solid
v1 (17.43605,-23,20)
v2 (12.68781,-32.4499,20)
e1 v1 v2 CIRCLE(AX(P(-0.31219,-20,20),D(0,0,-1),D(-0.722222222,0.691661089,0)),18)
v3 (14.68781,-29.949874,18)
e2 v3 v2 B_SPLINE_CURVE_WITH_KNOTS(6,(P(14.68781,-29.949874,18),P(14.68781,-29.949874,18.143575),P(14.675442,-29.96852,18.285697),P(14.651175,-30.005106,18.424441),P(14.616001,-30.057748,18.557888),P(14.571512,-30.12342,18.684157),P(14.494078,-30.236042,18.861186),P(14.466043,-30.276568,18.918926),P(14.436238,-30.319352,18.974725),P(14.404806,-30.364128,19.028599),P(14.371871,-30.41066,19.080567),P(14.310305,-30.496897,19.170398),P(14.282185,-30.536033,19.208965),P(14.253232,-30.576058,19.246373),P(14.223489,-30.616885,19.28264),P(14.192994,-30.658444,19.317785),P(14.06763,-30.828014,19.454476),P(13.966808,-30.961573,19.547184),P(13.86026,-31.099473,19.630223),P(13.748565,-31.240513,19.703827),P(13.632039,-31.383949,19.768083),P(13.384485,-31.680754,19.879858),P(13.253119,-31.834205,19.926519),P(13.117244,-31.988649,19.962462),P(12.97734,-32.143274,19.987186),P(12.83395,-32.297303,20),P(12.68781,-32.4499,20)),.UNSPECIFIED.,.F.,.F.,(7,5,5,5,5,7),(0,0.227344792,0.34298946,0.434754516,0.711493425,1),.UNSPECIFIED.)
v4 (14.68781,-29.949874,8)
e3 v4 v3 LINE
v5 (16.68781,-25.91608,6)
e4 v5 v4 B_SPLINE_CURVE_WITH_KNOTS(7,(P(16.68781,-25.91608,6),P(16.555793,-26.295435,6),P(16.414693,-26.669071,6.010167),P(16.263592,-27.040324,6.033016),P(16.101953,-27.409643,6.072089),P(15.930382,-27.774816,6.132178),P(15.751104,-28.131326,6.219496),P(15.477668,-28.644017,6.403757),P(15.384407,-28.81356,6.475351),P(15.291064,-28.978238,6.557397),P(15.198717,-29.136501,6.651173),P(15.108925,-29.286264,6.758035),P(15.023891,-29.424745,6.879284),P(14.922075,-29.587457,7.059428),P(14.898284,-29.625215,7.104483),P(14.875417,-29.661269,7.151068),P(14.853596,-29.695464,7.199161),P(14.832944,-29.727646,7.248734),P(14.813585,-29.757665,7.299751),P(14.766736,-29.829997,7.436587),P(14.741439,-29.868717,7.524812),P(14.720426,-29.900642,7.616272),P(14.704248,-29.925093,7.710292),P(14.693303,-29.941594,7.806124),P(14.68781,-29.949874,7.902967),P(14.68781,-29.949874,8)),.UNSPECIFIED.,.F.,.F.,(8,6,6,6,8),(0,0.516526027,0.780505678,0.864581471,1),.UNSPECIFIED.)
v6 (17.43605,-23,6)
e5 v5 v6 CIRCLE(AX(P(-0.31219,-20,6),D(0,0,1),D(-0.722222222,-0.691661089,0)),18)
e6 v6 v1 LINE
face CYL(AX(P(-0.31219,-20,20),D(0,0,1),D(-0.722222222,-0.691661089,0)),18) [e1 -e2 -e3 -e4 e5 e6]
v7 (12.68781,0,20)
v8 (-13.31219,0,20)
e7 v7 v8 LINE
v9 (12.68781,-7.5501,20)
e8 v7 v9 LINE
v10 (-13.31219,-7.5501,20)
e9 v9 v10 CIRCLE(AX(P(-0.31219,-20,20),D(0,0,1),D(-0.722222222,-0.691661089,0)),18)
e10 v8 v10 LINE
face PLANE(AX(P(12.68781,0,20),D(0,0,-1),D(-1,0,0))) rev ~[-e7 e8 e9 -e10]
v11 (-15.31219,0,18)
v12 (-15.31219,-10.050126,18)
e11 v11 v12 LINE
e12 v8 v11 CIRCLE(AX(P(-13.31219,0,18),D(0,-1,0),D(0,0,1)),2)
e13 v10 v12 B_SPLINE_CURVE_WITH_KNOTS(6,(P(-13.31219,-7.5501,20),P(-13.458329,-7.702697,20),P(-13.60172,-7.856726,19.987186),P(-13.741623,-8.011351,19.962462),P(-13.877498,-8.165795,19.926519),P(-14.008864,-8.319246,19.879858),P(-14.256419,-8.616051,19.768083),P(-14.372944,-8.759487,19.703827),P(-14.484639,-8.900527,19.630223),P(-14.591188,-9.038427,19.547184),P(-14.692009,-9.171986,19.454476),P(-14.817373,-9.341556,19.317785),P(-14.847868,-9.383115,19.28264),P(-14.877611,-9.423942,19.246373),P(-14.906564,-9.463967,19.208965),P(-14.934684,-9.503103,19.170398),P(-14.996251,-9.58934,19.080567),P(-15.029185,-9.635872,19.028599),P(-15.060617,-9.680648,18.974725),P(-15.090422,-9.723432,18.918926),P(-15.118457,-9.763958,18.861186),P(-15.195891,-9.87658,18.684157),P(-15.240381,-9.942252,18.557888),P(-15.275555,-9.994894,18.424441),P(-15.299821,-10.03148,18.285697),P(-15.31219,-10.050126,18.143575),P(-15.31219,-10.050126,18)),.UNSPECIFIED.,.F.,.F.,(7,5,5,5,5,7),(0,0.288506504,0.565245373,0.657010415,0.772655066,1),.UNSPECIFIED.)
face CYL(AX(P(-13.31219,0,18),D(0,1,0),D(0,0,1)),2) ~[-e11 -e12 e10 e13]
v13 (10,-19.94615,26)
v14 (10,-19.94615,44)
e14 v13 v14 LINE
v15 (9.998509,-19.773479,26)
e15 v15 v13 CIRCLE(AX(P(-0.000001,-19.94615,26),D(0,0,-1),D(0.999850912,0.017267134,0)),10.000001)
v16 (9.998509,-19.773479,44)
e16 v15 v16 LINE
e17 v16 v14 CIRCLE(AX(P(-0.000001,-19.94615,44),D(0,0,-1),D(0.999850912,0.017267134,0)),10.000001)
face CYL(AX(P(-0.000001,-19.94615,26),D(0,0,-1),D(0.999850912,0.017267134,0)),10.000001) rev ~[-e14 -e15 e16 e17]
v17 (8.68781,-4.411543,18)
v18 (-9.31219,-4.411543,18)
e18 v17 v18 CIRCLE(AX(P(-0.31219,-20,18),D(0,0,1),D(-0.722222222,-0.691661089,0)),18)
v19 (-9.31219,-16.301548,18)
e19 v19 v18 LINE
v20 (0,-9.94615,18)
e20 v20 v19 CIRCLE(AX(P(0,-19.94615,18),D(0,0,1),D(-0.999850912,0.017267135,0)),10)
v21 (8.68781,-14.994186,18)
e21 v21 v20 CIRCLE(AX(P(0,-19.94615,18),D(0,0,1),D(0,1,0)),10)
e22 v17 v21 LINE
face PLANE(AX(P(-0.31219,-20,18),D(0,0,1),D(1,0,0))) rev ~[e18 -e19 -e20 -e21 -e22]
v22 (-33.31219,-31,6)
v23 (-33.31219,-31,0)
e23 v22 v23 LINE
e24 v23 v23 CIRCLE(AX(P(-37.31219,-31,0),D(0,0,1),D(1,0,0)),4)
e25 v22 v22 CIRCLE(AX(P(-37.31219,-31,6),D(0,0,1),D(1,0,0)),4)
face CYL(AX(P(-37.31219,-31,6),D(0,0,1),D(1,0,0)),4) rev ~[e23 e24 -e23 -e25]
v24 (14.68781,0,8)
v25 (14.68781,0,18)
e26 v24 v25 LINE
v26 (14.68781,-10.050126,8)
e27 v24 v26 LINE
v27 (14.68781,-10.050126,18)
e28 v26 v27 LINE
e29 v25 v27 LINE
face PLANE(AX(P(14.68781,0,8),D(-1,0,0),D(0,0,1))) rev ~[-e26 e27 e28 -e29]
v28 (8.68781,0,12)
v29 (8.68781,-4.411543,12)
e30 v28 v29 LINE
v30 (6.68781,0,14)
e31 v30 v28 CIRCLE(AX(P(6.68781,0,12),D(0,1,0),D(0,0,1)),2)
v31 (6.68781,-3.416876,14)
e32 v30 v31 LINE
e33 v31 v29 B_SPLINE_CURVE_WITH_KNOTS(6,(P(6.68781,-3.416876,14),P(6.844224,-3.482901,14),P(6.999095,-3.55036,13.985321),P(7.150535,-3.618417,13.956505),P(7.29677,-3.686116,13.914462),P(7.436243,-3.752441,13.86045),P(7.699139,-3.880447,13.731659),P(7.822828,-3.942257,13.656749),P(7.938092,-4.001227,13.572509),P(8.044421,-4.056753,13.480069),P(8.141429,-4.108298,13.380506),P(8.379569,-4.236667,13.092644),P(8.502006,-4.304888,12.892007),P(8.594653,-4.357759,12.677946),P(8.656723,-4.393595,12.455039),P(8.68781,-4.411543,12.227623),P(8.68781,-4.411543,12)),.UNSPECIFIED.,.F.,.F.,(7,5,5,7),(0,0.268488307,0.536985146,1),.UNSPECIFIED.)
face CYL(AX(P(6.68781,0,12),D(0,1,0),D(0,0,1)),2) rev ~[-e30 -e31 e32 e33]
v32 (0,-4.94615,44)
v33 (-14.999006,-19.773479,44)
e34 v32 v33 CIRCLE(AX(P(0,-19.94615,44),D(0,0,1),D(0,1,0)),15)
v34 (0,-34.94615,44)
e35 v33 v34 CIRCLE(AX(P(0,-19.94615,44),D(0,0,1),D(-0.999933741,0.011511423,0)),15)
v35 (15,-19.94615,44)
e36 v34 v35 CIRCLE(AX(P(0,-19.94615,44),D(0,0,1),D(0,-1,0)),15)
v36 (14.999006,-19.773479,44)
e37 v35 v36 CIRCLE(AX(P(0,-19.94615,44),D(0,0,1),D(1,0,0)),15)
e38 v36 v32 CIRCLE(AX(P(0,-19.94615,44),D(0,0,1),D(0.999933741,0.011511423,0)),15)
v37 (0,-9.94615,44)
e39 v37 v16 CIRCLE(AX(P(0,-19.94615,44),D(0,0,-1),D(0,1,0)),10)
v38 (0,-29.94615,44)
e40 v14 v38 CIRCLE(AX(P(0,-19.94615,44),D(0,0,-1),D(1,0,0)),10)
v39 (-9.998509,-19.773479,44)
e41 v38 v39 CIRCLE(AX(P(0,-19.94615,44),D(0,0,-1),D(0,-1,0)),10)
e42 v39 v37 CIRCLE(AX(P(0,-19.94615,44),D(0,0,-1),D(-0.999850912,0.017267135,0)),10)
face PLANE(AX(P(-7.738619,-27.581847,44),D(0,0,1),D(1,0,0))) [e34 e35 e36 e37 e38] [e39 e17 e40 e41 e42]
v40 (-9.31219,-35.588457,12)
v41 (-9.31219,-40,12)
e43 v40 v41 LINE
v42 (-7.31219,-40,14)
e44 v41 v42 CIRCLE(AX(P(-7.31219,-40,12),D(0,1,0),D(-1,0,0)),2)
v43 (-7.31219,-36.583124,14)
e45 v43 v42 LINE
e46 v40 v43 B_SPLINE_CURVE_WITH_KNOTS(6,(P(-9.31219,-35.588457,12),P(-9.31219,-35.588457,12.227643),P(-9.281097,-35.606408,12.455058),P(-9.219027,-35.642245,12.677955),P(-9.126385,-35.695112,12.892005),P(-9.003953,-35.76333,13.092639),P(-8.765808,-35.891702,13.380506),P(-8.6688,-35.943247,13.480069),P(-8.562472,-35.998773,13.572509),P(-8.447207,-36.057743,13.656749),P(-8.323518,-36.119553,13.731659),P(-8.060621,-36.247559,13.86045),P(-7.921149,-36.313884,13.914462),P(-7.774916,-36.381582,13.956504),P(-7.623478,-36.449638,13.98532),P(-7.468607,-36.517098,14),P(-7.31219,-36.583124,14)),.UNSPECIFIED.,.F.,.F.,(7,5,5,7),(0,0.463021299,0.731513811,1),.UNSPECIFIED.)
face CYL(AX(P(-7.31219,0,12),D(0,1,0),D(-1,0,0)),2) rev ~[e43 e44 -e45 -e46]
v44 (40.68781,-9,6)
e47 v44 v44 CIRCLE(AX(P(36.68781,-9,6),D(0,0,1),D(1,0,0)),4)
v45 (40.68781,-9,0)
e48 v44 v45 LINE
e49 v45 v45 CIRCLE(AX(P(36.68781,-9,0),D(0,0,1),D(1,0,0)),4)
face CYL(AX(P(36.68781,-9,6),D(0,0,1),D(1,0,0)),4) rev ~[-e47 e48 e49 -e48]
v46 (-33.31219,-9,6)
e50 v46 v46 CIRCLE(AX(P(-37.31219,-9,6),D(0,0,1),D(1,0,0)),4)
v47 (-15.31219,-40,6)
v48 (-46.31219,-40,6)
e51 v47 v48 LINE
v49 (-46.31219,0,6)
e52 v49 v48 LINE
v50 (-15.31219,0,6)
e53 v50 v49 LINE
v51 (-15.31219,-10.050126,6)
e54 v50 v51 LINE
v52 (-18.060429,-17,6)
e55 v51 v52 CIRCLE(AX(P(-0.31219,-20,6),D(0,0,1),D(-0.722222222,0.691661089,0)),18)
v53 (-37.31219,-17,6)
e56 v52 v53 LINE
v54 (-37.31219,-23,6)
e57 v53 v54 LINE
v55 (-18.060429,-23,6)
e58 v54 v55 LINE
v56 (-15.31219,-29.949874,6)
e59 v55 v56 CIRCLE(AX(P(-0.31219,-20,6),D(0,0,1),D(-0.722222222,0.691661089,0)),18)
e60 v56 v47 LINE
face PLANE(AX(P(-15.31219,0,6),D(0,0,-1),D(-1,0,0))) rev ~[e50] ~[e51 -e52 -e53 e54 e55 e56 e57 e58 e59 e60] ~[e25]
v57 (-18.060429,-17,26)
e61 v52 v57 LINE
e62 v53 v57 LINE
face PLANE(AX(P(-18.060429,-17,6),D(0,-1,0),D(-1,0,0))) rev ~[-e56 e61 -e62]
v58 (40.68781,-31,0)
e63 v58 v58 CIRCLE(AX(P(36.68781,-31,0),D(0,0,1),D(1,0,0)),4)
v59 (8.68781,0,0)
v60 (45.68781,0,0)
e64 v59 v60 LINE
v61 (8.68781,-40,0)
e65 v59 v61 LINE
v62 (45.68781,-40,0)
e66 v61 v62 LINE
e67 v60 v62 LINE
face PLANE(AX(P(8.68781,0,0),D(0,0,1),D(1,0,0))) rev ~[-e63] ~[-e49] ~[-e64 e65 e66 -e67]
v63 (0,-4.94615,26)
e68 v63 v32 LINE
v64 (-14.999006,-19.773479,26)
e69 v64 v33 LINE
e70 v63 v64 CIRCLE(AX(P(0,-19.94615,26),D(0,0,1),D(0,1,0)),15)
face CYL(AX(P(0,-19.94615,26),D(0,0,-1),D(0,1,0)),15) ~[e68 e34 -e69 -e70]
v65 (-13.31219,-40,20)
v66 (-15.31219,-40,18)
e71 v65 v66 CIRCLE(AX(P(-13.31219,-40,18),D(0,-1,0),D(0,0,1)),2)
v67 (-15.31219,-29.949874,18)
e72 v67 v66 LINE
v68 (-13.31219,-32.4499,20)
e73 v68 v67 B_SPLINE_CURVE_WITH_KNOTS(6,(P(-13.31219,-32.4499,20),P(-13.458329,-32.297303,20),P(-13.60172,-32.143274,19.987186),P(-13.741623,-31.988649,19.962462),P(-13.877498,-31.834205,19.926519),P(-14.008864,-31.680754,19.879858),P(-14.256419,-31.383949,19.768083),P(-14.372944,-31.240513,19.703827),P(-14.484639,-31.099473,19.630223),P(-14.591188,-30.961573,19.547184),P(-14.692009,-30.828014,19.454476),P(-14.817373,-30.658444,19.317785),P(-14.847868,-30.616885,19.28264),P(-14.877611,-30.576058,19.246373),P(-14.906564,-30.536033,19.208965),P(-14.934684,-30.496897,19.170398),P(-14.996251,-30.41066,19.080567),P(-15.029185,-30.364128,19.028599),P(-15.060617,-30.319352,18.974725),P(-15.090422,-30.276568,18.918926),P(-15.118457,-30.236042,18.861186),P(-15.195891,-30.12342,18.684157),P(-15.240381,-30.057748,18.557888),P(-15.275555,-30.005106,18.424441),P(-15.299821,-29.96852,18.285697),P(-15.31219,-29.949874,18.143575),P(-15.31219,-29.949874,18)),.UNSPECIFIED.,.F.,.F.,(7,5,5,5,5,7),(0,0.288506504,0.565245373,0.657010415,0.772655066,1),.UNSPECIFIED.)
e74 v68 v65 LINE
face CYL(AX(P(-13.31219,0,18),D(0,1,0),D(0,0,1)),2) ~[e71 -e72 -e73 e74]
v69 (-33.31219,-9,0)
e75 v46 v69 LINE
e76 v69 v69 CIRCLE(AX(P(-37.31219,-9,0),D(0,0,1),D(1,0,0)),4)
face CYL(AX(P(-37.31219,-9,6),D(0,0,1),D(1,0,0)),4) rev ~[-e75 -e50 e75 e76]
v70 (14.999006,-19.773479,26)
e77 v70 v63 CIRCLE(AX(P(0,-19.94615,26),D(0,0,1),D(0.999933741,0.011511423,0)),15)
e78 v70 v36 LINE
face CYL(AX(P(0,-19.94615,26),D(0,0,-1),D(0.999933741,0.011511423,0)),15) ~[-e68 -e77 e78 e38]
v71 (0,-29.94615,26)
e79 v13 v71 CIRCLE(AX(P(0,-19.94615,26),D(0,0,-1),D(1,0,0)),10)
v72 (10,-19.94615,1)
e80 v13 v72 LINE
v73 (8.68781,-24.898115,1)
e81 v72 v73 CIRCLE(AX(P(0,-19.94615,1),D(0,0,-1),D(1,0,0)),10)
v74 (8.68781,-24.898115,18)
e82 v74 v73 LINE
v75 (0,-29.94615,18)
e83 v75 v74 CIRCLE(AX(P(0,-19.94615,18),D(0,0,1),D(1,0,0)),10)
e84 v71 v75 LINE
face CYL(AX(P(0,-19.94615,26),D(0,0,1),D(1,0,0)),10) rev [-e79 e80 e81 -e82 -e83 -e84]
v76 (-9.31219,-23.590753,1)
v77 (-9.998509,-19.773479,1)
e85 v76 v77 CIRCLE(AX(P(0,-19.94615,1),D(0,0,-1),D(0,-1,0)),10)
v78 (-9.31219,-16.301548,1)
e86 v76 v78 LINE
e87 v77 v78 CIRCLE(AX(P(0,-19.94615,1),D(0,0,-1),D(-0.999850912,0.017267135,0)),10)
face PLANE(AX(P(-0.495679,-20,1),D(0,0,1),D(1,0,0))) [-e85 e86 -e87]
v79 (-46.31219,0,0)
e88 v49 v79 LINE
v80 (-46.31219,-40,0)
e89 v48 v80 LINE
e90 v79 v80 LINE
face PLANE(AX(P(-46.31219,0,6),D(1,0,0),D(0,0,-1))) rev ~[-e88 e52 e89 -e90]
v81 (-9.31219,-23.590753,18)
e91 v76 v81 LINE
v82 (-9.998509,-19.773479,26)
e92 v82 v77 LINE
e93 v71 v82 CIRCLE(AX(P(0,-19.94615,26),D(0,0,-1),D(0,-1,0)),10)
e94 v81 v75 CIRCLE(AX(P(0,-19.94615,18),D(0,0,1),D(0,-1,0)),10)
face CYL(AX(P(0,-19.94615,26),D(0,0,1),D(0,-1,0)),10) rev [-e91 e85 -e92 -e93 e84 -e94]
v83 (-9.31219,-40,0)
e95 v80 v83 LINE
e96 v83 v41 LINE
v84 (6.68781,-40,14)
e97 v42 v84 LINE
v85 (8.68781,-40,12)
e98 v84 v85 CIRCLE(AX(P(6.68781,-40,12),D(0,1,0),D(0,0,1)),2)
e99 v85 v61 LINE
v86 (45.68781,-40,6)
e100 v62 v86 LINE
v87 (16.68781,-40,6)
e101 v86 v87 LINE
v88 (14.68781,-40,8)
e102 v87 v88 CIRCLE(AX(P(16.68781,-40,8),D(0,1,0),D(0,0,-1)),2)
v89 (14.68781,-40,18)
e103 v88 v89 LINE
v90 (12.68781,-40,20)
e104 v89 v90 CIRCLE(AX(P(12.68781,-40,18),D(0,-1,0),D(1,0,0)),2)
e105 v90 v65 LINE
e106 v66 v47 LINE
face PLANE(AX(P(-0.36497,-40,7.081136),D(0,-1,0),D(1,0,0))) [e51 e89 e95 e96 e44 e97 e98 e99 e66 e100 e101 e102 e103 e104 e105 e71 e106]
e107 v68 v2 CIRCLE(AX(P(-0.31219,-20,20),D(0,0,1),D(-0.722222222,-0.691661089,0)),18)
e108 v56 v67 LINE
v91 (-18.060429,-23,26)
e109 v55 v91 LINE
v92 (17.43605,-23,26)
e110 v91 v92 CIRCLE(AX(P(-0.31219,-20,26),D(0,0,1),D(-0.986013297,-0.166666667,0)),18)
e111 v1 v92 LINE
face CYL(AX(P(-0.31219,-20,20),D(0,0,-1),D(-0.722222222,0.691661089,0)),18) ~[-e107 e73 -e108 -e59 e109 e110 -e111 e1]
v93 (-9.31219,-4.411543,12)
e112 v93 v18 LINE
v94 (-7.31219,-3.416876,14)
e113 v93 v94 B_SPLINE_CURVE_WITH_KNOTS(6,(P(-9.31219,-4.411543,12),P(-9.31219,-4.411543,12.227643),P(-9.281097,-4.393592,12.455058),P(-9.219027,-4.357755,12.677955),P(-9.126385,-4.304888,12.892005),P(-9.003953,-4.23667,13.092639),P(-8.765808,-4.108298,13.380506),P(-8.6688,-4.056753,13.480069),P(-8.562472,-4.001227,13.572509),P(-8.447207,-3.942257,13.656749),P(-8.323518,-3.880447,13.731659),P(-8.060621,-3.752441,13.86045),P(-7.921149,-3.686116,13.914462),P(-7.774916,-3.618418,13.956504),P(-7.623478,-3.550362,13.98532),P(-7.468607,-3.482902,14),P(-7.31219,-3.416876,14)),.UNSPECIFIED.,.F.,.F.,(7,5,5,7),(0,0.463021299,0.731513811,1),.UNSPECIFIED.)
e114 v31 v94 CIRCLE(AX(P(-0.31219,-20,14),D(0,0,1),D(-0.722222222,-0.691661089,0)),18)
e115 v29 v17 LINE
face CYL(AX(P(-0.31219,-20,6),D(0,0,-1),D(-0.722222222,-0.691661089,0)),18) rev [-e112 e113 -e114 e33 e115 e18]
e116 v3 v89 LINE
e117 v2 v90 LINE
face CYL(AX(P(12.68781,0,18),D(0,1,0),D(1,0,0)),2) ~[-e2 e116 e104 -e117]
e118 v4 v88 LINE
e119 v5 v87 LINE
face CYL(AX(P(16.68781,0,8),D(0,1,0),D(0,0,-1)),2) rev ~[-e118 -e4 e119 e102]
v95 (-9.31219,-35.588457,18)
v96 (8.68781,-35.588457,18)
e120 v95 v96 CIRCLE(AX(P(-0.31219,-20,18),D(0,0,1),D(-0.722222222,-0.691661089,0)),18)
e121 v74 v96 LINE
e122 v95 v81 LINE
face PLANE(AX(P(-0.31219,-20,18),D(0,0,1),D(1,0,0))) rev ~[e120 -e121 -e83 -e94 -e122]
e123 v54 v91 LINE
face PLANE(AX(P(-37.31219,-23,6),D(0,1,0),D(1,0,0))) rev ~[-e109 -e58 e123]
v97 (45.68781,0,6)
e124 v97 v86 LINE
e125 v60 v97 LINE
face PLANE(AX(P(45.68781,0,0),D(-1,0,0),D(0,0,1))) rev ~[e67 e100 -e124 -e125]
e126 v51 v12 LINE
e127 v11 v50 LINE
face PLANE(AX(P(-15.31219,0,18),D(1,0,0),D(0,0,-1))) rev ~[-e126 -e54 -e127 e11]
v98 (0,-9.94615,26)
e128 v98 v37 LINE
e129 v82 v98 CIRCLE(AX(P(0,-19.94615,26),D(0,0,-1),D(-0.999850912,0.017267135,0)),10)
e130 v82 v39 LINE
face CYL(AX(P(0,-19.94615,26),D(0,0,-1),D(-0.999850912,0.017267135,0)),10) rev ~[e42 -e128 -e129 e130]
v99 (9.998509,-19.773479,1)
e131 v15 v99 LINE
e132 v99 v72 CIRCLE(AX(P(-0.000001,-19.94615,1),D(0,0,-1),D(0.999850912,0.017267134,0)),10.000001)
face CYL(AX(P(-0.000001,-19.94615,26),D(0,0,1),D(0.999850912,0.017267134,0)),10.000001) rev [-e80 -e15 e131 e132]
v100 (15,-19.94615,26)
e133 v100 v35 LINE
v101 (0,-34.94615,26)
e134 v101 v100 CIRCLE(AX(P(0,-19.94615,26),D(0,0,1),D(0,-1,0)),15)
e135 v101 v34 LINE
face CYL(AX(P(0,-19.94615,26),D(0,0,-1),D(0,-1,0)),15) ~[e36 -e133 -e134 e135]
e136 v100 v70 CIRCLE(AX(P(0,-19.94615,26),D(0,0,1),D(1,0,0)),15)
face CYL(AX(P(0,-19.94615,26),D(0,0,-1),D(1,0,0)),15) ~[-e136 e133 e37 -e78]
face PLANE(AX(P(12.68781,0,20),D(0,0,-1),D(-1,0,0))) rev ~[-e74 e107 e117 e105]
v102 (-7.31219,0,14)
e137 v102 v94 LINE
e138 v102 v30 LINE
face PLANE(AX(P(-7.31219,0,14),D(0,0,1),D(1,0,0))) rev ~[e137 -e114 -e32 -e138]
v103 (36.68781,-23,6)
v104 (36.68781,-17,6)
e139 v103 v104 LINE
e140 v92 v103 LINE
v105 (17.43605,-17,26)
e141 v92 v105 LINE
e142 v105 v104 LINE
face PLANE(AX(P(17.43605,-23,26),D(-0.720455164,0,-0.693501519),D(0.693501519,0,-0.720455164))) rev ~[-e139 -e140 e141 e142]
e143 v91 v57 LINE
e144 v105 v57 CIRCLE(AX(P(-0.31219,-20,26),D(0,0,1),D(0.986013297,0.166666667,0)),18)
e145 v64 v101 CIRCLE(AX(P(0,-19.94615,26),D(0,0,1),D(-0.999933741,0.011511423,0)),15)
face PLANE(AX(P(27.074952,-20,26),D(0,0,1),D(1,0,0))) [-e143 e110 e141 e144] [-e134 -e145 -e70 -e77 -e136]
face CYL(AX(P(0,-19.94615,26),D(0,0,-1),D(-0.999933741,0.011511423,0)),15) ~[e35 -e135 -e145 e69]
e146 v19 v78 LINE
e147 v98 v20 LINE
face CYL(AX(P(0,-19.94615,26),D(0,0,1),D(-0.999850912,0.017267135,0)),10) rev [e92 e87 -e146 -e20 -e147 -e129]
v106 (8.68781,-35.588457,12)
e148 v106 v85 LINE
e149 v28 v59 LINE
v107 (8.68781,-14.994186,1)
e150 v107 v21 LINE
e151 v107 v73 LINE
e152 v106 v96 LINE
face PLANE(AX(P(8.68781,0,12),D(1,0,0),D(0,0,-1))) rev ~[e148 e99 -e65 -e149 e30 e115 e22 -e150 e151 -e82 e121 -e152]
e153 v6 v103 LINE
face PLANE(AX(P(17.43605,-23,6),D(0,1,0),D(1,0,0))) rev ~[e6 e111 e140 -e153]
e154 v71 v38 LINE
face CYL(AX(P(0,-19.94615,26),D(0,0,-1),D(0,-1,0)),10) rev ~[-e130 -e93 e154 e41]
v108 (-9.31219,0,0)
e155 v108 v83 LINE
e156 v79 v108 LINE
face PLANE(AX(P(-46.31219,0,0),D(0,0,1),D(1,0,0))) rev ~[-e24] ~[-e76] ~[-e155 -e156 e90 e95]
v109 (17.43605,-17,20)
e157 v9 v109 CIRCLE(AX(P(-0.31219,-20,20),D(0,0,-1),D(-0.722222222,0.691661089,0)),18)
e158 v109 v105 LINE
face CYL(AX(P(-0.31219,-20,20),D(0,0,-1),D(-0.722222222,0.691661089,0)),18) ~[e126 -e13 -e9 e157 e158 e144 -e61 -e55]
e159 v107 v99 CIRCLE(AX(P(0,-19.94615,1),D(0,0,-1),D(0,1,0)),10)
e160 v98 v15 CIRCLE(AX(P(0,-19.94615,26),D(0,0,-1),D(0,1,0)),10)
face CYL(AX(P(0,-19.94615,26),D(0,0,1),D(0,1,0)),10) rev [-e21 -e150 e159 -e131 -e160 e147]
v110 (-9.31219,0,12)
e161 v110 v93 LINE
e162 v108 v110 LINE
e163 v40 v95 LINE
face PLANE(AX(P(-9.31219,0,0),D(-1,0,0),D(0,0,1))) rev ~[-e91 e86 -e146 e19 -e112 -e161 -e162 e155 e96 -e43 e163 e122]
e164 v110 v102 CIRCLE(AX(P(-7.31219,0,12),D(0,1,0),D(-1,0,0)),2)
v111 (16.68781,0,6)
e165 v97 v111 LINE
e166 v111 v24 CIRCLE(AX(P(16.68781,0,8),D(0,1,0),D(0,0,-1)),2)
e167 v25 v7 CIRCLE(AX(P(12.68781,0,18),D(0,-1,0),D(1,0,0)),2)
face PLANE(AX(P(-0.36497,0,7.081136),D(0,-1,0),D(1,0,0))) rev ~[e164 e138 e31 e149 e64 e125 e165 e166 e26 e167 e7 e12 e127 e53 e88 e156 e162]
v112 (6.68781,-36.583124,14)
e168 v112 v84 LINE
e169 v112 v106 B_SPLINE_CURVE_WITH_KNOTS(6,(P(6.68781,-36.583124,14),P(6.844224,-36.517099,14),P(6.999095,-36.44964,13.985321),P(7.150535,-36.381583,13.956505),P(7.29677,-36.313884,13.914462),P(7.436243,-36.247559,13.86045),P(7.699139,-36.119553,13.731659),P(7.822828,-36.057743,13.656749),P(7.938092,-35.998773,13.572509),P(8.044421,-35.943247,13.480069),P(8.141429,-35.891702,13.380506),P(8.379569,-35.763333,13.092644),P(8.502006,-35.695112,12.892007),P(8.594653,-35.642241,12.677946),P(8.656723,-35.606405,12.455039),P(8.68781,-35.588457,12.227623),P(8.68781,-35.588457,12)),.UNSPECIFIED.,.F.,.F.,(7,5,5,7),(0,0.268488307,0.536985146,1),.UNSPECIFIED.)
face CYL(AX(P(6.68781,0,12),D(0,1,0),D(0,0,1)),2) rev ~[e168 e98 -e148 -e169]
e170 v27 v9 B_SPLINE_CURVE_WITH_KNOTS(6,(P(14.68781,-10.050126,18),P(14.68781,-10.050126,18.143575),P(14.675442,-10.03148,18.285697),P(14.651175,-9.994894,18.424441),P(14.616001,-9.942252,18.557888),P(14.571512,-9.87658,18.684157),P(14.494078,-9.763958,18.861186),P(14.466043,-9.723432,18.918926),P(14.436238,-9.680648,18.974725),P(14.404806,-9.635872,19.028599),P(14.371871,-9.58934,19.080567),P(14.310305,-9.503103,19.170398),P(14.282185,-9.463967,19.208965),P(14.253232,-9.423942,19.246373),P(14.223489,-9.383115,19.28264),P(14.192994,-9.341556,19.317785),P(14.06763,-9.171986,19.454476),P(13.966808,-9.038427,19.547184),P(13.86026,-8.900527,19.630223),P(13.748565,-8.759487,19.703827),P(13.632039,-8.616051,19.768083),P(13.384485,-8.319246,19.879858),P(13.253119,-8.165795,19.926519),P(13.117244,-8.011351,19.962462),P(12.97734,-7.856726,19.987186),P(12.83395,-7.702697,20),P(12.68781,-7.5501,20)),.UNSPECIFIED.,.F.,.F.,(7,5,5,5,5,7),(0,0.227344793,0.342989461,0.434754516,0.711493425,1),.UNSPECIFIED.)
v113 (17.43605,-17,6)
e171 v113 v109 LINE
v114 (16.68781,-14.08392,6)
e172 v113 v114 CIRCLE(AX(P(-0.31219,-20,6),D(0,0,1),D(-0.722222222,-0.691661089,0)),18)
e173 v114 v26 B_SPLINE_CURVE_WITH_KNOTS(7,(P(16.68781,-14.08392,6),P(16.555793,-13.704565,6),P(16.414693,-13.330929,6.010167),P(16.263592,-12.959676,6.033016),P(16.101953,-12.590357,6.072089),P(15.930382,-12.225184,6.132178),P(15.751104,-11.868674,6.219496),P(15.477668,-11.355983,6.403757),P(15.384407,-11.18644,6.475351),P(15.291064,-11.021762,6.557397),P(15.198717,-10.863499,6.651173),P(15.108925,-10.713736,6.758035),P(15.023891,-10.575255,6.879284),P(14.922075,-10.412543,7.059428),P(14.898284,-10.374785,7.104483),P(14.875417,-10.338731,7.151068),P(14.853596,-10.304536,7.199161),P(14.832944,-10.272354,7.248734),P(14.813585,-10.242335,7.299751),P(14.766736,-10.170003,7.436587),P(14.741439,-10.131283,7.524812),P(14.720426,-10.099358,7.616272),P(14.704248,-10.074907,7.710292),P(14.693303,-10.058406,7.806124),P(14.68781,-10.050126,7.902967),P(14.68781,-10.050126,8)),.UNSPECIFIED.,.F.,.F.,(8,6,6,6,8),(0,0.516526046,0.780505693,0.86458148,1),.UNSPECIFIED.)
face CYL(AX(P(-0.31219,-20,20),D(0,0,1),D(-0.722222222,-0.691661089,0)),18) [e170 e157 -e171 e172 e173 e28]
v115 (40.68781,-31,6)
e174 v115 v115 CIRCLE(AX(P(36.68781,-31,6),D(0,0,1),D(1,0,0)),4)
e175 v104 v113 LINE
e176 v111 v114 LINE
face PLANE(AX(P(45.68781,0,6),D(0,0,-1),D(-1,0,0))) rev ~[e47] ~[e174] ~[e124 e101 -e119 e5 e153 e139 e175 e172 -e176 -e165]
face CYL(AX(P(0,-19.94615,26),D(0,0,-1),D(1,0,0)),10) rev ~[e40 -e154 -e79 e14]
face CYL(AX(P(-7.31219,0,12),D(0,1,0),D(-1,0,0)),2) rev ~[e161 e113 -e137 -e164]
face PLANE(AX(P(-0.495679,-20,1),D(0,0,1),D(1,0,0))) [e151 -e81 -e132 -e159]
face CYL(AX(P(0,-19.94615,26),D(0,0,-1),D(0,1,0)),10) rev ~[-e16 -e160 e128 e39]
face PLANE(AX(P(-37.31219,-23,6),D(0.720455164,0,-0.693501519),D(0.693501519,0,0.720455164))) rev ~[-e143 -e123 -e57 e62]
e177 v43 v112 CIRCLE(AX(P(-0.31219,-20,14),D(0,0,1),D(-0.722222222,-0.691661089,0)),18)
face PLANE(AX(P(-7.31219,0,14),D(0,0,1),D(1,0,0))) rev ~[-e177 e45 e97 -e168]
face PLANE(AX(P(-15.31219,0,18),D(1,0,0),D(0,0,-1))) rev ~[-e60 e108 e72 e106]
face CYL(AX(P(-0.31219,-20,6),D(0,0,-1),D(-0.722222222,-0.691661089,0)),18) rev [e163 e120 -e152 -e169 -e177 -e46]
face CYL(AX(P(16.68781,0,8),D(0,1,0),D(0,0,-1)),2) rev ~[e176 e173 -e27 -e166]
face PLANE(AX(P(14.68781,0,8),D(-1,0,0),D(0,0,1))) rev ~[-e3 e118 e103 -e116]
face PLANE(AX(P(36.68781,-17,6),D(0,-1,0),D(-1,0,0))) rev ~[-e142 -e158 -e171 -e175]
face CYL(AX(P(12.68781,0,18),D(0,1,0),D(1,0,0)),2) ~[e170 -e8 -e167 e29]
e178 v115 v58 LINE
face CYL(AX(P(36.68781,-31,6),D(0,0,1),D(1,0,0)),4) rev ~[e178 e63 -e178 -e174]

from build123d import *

# Parameters (mm, degrees)
F1_DEPTH  = 40
F14_R     = 4
F2_DEPTH  = 6
F3_R      = 4
F15_DEPTH = 6
F16_DEPTH = 14
F6_DEPTH  = 6
F17_DEPTH = 18
F18_DEPTH = 25
F8_DEPTH  = 20
F9_DEPTH  = 20
F10_DEPTH = 6
F12_DEPTH = 6
F13_DEPTH = 12


with BuildPart() as f1:
    # F0 (on Front) → F1 (new body)
    with BuildSketch(Plane.XZ):
        with BuildLine():
            Line((8.6878103536, 0), (45.6878103536, 0))
            Line((45.6878103536, 0), (45.6878103536, 6))
            Line((45.6878103536, 6), (16.6878103536, 6))
            ThreePointArc((16.6878103536, 6), (15.2735967912, 6.5857864376), (14.6878103536, 8))
            Line((14.6878103536, 8), (14.6878103536, 18))
            ThreePointArc((14.6878103536, 18), (14.102023916, 19.4142135624), (12.6878103536, 20))
            Line((12.6878103536, 20), (-13.3121896464, 20))
            ThreePointArc((-13.3121896464, 20), (-14.7264032088, 19.4142135624), (-15.3121896464, 18))
            Line((-15.3121896464, 18), (-15.3121896464, 6))
            Line((-15.3121896464, 6), (-46.3121896464, 6))
            Line((-46.3121896464, 6), (-46.3121896464, 0))
            Line((-46.3121896464, 0), (-9.3121896464, 0))
            Line((-9.3121896464, 0), (-9.3121896464, 12))
            ThreePointArc((-9.3121896464, 12), (-8.7264032088, 13.4142135624), (-7.3121896464, 14))
            Line((-7.3121896464, 14), (6.6878103536, 14))
            ThreePointArc((6.6878103536, 14), (8.102023916, 13.4142135624), (8.6878103536, 12))
            Line((8.6878103536, 12), (8.6878103536, 0))
        make_face()
    extrude(amount=F1_DEPTH)

    # F14 (on face) → F2 (cut)
    with BuildSketch(Plane.XY.offset(6)):
        with Locations((-37.3121896464, -31)):
            Circle(F14_R)
        with Locations((-37.3121896464, -9)):
            Circle(F14_R)
    extrude(amount=-F2_DEPTH, mode=Mode.SUBTRACT)

    # F3 (on face) → F15 (cut)
    with BuildSketch(Plane.XY.offset(6)):
        with Locations((36.6878103536, -31)):
            Circle(F3_R)
        with Locations((36.6878103536, -9)):
            Circle(F3_R)
    extrude(amount=-F15_DEPTH, mode=Mode.SUBTRACT)

    # F4 (on face) → F16 (join)
    with BuildSketch(Plane.XY.offset(20)):
        with BuildLine():
            Line((12.6878103536, -32.449899598), (12.6878103536, -7.550100402))
            ThreePointArc((12.6878103536, -7.550100402), (-0.3121896464, -2), (-13.3121896464, -7.550100402))
            Line((-13.3121896464, -7.550100402), (-13.3121896464, -32.449899598))
            ThreePointArc((-13.3121896464, -32.449899598), (-0.3121896464, -38), (12.6878103536, -32.449899598))
        make_face()
        with BuildLine():
            Line((-13.3121896464, -32.449899598), (-13.3121896464, -7.550100402))
            ThreePointArc((-13.3121896464, -7.550100402), (-18.3121896464, -20), (-13.3121896464, -32.449899598))
        make_face()
        with BuildLine():
            ThreePointArc((12.6878103536, -32.449899598), (16.3911034421, -26.7082039325), (17.6878103536, -20))
            ThreePointArc((17.6878103536, -20), (16.3911034421, -13.2917960675), (12.6878103536, -7.550100402))
            Line((12.6878103536, -7.550100402), (12.6878103536, -32.449899598))
        make_face()
    extrude(amount=-F16_DEPTH)

    # F5 (on face) → F6 (join)
    with BuildSketch(Plane.XY.offset(20)):
        with BuildLine():
            ThreePointArc((12.6878103536, -32.449899598), (16.3911034421, -26.7082039325), (17.6878103536, -20))
            ThreePointArc((17.6878103536, -20), (16.3911034421, -13.2917960675), (12.6878103536, -7.550100402))
            ThreePointArc((12.6878103536, -7.550100402), (-0.3121896464, -2), (-13.3121896464, -7.550100402))
            ThreePointArc((-13.3121896464, -7.550100402), (-18.3121896464, -20), (-13.3121896464, -32.449899598))
            ThreePointArc((-13.3121896464, -32.449899598), (-0.3121896464, -38), (12.6878103536, -32.449899598))
        make_face()
    extrude(amount=F6_DEPTH)

    # F7 (on face) → F17 (join)
    with BuildSketch(Plane.XY.offset(26)):
        with BuildLine():
            Line((-9.9985091191, -19.7734791318), (-14.9990061206, -19.7734791318))
            ThreePointArc((-14.9990061206, -19.7734791318), (-10.6674755741, -30.4915269508), (0, -34.9461504817))
            Line((0, -34.9461504817), (0, -29.9461504817))
            ThreePointArc((0, -29.9461504817), (-7.1318550707, -26.9559039189), (-9.9985091191, -19.7734791318))
        make_face()
        with BuildLine():
            ThreePointArc((15, -19.9461504817), (14.9997515281, -19.8598133766), (14.9990061206, -19.7734791318))
            Line((14.9990061206, -19.7734791318), (9.9985091191, -19.7734791318))
            ThreePointArc((9.9985091191, -19.7734791318), (9.9996272728, -19.8598115887), (10, -19.9461504817))
            ThreePointArc((10, -19.9461504817), (7.0710678119, -27.0172182936), (0, -29.9461504817))
            Line((0, -29.9461504817), (0, -34.9461504817))
            ThreePointArc((0, -34.9461504817), (10.6066017178, -30.5527521995), (15, -19.9461504817))
        make_face()
        with BuildLine():
            ThreePointArc((14.9990061206, -19.7734791318), (10.5453764691, -9.2786749076), (0, -4.9461504817))
            Line((0, -4.9461504817), (0, -9.9461504817))
            ThreePointArc((0, -9.9461504817), (7.0097534372, -12.814295411), (9.9985091191, -19.7734791318))
            Line((9.9985091191, -19.7734791318), (14.9990061206, -19.7734791318))
        make_face()
        with BuildLine():
            Line((0, -9.9461504817), (0, -4.9461504817))
            ThreePointArc((0, -4.9461504817), (-10.5453764691, -9.2786749076), (-14.9990061206, -19.7734791318))
            Line((-14.9990061206, -19.7734791318), (-9.9985091191, -19.7734791318))
            ThreePointArc((-9.9985091191, -19.7734791318), (-7.0097534372, -12.814295411), (0, -9.9461504817))
        make_face()
    extrude(amount=F17_DEPTH)

    # F18 (cut): a face of the model
    f18_faces = [f1.faces().sort_by_distance(p)[0] for p in [
        (0, -19.9461504817, 26),
    ]]
    extrude(f18_faces, amount=-F18_DEPTH, mode=Mode.SUBTRACT)

    # F19 (on face) → F8 (join)
    with BuildSketch(Plane.XY.offset(6)):
        with BuildLine():
            Line((36.6878103536, -23), (36.6878103536, -17))
            Line((36.6878103536, -17), (17.4360497029, -17))
            ThreePointArc((17.4360497029, -17), (17.6878103536, -20), (17.4360497029, -23))
            Line((17.4360497029, -23), (36.6878103536, -23))
        make_face()
    extrude(amount=F8_DEPTH)

    # F20 (on face) → F9 (join)
    with BuildSketch(Plane.XY.offset(6)):
        with BuildLine():
            Line((-18.0604289957, -17), (-37.3121896464, -17))
            Line((-37.3121896464, -17), (-37.3121896464, -23))
            Line((-37.3121896464, -23), (-18.0604289957, -23))
            ThreePointArc((-18.0604289957, -23), (-18.3121896464, -20), (-18.0604289957, -17))
        make_face()
    extrude(amount=F9_DEPTH)

    # F21 (on face) → F10 (cut)
    with BuildSketch(Plane.XZ.offset(23)):
        Polygon((17.4360497029, 26), (36.6878103536, 6), (36.6878103536, 26), align=None)
    extrude(amount=-F10_DEPTH, mode=Mode.SUBTRACT)

    # F11 (on face) → F12 (cut)
    with BuildSketch(Plane.XZ.offset(23)):
        Polygon((-37.3121896464, 26), (-37.3121896464, 6), (-18.0604289957, 26), align=None)
    extrude(amount=-F12_DEPTH, mode=Mode.SUBTRACT)

    # F13 (cut): faces of the model
    f13_faces = [f1.faces().sort_by_distance(p)[0] for p in [
        (-0.4565347665, -7.2840433998, 6),
        (-0.4547848435, -32.6635017138, 6),
        (-0.4565347665, -7.2840433998, 6),
        (-0.4547848435, -32.6635017138, 6),
    ]]
    extrude(f13_faces, amount=-F13_DEPTH, mode=Mode.SUBTRACT)


solid = f1.part
